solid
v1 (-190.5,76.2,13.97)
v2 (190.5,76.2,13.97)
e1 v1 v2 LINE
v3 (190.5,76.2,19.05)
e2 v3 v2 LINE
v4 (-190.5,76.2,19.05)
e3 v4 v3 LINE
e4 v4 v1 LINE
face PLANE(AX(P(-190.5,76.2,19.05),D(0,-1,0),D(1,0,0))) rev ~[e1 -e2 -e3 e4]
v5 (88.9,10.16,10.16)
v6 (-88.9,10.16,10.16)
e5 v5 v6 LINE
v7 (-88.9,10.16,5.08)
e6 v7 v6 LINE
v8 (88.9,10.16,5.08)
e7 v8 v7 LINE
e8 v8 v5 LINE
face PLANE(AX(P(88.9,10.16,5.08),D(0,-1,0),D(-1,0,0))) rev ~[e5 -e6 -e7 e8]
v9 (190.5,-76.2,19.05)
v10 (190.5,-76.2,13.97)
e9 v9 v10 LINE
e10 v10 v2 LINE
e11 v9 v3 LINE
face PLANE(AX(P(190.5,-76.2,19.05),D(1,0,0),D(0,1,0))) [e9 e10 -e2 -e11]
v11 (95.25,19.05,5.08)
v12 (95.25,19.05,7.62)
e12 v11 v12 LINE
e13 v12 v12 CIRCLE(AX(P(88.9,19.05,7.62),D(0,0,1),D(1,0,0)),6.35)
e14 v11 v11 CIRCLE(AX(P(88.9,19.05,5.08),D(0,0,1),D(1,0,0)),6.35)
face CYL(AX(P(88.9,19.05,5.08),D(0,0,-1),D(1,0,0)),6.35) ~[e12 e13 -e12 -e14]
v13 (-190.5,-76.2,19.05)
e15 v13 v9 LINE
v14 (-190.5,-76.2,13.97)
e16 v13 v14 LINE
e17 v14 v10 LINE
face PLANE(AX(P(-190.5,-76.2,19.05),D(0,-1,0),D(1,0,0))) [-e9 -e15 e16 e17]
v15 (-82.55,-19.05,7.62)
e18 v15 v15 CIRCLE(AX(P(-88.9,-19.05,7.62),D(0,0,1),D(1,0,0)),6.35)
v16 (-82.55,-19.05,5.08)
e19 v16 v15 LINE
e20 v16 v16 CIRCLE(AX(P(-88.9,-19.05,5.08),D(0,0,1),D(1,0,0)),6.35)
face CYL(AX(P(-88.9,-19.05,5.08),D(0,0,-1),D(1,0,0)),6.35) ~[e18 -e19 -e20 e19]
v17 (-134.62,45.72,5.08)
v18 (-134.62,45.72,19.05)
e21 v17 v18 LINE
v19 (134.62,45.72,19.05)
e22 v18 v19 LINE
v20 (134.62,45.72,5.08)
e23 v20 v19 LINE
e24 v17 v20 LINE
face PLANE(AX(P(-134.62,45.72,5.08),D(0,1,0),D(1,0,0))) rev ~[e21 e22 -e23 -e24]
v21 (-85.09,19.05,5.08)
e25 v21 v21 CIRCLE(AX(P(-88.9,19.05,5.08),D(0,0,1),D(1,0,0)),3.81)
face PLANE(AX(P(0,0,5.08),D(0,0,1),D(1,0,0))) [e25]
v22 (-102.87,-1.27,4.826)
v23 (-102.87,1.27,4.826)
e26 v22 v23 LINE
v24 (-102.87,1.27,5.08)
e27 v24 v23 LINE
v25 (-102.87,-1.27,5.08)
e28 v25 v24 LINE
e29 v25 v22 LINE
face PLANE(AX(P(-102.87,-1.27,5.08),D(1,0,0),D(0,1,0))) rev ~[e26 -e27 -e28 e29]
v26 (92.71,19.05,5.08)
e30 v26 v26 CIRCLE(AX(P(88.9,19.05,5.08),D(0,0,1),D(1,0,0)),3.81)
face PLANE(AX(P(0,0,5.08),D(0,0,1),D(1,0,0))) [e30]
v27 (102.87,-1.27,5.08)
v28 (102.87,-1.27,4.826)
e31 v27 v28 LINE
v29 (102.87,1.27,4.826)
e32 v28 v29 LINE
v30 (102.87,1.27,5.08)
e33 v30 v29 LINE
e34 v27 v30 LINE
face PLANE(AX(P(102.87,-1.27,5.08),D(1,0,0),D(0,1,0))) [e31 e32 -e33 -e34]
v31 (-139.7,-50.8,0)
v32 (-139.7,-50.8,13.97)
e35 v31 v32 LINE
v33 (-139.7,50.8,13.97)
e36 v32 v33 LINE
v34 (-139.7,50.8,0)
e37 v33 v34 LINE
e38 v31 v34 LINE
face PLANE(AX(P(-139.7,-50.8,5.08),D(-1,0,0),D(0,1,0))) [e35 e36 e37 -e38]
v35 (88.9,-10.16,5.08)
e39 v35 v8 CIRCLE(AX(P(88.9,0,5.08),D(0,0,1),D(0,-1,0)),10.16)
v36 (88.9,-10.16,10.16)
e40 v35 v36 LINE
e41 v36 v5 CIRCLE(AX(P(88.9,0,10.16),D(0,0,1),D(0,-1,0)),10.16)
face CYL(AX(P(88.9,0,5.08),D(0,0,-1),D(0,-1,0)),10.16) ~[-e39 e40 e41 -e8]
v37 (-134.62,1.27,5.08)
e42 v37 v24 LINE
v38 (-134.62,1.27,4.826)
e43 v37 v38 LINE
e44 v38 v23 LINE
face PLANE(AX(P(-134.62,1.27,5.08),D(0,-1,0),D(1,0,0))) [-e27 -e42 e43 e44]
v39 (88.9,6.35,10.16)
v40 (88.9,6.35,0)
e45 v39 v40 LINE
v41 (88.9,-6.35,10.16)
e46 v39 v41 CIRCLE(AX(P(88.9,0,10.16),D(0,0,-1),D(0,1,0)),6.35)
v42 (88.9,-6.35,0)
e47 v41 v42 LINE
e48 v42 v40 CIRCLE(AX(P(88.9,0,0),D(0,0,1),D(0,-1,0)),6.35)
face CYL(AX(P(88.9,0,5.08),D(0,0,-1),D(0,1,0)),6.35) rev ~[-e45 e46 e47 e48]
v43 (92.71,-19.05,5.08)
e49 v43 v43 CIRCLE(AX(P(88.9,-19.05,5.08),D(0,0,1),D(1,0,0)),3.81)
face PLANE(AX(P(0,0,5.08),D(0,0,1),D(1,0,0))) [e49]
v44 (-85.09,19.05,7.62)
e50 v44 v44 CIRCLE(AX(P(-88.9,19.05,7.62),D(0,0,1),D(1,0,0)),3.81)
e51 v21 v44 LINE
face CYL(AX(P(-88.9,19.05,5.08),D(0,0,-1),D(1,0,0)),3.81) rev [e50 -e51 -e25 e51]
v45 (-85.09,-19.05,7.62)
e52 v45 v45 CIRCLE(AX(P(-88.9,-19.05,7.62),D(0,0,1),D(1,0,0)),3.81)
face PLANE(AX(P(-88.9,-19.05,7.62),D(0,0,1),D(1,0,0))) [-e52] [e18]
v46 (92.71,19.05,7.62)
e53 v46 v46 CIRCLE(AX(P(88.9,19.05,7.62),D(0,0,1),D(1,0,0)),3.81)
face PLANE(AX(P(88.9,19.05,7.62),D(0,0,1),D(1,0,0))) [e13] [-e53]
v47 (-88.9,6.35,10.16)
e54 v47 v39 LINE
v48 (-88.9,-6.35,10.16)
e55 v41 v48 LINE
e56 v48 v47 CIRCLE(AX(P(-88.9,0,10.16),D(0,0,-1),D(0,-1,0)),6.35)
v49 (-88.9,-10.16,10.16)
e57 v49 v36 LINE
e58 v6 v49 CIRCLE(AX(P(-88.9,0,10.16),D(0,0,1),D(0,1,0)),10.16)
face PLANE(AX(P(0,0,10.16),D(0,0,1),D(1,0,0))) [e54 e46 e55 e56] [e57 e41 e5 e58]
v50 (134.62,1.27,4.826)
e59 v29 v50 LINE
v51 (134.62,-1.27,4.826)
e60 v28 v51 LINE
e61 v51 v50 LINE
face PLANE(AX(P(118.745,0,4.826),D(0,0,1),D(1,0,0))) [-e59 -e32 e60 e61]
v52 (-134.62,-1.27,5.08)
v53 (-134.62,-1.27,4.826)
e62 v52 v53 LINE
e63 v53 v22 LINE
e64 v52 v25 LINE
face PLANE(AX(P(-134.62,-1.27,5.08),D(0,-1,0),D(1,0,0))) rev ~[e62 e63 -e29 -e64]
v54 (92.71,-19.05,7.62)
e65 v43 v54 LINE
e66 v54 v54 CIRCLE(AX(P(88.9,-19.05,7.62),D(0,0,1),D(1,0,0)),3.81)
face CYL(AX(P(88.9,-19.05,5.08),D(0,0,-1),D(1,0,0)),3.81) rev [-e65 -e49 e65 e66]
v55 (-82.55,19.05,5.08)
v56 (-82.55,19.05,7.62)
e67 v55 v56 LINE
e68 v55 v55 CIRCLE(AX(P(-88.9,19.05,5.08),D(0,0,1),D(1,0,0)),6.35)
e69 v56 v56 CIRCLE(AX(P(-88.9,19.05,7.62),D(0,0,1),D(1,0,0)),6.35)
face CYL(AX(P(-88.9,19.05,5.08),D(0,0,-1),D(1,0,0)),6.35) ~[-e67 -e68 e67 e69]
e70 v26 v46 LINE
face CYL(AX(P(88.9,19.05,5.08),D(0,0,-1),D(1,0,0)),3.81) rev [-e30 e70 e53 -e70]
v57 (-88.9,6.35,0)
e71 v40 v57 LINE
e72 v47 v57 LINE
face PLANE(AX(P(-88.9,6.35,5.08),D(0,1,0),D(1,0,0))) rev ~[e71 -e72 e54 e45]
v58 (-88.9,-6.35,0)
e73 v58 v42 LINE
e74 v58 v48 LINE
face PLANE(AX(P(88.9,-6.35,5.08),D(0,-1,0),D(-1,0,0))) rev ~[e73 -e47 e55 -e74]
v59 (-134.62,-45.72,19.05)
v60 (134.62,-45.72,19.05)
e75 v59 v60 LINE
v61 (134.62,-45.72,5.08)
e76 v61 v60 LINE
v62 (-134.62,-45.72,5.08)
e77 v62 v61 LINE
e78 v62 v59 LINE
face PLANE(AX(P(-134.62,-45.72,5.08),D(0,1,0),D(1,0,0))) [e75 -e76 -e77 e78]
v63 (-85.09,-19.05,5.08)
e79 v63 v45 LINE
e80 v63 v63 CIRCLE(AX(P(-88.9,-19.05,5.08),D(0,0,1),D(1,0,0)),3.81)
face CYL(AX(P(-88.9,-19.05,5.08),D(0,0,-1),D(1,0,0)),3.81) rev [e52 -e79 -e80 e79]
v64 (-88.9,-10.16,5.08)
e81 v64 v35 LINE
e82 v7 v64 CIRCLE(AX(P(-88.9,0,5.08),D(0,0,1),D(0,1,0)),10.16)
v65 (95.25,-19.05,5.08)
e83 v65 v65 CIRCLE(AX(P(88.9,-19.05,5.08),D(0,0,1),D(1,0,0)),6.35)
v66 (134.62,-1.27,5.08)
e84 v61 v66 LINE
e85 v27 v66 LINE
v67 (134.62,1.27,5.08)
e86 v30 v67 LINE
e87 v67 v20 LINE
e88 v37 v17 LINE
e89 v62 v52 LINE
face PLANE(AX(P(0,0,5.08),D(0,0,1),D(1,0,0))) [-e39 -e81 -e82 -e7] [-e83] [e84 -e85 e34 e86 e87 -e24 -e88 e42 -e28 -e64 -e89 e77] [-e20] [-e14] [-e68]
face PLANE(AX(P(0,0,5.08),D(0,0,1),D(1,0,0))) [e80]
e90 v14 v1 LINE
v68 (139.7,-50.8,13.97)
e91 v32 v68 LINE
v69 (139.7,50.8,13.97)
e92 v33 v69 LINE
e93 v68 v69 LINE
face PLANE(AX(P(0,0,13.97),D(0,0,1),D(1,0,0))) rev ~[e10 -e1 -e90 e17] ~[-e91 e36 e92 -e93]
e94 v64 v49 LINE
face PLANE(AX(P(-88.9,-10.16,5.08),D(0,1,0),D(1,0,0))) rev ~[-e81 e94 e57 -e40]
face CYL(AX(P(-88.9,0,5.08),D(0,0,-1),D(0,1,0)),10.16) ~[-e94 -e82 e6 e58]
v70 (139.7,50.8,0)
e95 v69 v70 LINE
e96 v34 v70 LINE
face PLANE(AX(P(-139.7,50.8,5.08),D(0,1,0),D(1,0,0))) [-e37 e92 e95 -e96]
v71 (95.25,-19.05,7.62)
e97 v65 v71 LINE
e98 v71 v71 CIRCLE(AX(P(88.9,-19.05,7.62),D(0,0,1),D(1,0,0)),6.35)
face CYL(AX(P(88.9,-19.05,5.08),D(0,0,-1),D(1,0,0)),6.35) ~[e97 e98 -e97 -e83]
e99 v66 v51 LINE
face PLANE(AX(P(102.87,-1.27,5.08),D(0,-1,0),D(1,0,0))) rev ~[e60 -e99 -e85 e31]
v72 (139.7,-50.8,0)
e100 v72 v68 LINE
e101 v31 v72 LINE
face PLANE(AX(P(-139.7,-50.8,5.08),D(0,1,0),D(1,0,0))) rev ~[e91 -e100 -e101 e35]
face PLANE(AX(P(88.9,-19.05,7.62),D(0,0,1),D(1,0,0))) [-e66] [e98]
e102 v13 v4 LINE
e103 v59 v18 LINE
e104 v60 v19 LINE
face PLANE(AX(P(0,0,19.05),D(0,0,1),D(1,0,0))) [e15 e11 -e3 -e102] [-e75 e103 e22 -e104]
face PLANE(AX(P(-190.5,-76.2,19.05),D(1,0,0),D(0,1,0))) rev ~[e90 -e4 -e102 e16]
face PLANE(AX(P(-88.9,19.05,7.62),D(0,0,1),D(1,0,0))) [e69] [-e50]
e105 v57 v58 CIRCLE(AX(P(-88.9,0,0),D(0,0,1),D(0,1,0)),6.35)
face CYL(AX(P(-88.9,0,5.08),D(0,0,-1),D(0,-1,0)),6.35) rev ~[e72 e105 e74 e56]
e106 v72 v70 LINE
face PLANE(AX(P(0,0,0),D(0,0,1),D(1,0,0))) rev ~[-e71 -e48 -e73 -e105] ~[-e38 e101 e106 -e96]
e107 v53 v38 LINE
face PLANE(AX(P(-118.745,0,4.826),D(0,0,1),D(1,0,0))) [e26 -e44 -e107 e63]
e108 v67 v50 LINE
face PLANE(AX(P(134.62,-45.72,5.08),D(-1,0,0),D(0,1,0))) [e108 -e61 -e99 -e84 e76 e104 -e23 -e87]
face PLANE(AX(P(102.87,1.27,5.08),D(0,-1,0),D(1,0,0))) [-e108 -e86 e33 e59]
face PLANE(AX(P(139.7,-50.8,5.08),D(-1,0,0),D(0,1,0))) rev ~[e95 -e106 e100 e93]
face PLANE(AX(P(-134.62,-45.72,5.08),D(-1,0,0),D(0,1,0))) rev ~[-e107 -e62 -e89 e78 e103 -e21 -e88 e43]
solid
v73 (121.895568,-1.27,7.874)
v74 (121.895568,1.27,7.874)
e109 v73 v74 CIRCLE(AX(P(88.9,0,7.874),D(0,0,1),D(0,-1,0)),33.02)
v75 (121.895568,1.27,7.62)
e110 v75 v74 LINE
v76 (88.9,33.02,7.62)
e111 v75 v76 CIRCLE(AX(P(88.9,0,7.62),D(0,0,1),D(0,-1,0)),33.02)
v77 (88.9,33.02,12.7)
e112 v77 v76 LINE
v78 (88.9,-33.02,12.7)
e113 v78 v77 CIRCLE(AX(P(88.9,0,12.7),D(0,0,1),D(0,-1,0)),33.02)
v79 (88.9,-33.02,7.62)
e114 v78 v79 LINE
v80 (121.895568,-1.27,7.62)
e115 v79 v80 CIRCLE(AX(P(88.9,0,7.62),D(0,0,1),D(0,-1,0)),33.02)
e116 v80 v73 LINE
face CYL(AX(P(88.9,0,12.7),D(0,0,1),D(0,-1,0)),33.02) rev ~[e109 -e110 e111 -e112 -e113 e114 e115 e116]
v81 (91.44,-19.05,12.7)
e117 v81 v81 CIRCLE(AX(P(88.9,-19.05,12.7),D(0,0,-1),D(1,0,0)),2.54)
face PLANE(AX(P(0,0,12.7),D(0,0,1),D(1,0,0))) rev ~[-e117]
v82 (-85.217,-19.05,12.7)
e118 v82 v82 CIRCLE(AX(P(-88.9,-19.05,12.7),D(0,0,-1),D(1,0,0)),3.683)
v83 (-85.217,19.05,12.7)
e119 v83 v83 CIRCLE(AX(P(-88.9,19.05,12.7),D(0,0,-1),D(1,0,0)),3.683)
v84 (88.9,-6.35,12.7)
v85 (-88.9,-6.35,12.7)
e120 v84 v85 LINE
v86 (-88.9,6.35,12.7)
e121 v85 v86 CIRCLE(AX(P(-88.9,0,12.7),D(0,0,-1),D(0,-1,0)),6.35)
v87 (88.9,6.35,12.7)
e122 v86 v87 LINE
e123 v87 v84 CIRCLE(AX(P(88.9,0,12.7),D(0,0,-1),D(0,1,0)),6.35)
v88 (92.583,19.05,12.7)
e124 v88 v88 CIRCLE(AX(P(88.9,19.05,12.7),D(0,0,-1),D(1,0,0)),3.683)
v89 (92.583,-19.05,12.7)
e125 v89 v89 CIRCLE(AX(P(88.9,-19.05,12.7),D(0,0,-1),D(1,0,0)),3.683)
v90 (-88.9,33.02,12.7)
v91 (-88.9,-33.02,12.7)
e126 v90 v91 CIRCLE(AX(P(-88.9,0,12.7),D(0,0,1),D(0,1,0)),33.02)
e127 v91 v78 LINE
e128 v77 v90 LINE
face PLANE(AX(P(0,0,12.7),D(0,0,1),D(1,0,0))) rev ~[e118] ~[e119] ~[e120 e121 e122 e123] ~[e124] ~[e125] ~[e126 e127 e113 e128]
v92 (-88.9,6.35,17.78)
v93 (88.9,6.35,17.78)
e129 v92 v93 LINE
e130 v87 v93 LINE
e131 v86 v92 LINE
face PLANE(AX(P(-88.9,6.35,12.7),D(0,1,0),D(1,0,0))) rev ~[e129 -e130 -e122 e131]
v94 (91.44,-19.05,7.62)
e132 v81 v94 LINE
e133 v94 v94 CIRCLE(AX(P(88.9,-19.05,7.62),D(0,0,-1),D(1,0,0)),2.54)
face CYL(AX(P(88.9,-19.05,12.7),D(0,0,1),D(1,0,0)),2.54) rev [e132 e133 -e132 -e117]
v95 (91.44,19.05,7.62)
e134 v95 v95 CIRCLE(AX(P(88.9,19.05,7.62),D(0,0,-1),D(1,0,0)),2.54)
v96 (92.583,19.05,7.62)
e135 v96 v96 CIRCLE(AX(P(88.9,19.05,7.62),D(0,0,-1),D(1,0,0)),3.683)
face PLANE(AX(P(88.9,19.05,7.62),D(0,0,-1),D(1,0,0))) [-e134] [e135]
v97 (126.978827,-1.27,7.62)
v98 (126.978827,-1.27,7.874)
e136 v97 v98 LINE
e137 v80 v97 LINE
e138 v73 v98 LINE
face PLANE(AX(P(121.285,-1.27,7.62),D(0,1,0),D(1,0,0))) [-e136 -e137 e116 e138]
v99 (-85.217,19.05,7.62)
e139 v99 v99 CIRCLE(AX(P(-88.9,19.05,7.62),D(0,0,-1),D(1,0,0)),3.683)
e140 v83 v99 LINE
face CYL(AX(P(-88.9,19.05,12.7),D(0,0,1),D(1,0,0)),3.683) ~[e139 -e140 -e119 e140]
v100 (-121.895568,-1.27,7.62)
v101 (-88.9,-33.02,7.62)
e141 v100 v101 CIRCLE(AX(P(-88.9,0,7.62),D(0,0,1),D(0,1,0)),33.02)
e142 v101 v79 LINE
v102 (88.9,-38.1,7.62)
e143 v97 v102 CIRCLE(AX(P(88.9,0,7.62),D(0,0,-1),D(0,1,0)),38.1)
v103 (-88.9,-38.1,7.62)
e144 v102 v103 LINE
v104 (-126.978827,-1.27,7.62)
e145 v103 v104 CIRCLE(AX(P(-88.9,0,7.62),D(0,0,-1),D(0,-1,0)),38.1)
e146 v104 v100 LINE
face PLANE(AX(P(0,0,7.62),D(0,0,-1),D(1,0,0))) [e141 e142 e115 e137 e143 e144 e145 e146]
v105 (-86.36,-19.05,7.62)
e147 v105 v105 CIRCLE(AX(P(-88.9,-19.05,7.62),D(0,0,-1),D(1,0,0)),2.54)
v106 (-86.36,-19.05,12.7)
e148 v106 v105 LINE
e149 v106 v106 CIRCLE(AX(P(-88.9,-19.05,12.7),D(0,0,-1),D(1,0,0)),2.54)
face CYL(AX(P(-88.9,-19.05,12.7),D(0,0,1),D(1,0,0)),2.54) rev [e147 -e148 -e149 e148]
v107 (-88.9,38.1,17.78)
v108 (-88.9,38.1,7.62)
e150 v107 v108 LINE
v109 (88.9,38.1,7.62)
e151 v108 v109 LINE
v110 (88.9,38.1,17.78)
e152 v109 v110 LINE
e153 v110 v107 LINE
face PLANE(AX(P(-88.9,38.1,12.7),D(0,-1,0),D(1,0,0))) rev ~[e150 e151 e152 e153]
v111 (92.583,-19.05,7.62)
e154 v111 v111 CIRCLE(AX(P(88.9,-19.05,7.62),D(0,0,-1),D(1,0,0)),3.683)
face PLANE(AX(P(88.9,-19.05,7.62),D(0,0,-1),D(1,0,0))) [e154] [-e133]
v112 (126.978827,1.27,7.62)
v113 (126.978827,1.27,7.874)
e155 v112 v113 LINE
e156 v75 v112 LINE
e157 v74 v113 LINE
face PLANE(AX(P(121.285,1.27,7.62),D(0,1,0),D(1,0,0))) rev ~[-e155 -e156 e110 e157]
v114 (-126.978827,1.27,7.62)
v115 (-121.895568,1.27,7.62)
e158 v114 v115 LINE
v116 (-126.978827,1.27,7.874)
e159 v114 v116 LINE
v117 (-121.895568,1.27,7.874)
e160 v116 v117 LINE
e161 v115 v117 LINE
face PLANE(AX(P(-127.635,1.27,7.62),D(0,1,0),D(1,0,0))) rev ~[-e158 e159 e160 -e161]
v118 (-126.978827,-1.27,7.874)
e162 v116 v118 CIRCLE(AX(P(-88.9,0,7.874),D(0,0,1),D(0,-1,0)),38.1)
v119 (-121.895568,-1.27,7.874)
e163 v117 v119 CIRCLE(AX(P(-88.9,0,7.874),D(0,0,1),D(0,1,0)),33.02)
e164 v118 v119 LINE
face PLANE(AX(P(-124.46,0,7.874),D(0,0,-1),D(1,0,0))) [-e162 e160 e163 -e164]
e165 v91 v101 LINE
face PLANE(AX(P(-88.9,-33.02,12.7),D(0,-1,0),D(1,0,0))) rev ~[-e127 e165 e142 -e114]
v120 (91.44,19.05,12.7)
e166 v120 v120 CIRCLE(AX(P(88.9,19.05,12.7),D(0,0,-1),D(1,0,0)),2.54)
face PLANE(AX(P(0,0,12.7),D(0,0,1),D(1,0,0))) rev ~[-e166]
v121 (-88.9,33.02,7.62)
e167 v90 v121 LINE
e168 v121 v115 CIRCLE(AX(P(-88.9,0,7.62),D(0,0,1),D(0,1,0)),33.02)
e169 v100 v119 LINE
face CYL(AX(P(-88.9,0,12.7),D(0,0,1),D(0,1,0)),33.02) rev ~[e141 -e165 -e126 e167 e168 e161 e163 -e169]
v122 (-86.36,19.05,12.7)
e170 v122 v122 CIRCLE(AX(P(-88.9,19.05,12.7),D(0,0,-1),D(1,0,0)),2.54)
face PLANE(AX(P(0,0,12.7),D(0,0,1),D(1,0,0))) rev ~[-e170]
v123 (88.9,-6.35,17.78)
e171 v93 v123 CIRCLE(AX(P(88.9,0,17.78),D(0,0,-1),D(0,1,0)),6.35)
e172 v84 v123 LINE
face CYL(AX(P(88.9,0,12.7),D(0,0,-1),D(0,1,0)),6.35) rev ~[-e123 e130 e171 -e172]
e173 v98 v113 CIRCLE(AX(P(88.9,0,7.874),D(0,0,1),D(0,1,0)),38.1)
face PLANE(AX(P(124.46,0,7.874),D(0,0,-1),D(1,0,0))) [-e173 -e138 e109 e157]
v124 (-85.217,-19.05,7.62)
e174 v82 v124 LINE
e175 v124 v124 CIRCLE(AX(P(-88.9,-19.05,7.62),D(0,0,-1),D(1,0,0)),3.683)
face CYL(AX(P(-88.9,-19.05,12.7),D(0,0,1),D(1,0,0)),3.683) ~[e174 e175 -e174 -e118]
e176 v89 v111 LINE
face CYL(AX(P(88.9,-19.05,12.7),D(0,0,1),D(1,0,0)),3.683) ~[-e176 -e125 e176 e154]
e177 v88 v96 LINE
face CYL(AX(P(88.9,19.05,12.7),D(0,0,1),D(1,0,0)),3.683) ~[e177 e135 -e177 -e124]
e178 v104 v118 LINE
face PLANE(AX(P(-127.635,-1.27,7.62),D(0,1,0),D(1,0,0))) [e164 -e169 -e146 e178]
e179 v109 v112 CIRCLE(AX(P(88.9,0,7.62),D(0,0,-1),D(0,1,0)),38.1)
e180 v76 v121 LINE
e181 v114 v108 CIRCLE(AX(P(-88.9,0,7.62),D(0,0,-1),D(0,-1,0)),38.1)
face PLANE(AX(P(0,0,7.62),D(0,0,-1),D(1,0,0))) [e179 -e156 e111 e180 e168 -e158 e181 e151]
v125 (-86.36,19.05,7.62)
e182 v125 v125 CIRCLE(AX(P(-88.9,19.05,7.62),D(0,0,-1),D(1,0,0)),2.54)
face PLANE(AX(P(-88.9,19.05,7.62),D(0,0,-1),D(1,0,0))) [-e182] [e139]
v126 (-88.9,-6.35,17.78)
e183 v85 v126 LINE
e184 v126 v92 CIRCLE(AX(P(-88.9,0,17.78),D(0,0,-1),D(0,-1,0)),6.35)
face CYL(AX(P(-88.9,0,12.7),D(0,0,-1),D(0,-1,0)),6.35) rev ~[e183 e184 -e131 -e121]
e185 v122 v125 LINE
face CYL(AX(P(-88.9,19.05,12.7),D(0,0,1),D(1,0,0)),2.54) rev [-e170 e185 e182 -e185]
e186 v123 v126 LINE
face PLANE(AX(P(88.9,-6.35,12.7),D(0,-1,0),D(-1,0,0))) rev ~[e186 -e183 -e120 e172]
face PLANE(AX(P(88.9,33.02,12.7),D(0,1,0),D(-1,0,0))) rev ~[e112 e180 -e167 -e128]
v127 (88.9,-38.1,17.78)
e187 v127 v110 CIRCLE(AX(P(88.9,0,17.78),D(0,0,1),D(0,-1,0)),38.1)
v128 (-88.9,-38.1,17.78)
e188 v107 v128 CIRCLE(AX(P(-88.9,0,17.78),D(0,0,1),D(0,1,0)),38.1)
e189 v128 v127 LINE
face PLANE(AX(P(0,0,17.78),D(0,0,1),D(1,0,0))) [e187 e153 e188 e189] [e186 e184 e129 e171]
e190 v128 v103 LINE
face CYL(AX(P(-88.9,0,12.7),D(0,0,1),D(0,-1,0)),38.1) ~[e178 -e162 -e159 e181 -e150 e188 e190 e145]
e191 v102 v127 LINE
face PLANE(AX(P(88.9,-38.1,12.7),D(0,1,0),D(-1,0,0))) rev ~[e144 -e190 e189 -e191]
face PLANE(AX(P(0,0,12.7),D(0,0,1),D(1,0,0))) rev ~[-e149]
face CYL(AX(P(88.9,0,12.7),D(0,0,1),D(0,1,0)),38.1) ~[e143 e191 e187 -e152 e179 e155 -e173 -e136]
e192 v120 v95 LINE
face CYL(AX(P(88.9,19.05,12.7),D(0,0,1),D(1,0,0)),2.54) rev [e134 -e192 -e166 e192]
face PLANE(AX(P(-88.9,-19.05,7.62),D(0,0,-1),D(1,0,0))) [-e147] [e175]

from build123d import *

# Parameters (mm, degrees)
F0_W      = 279.4
F0_H      = 101.6
F1_DEPTH  = 5.08
F3_DEPTH  = 5.081
F5_DEPTH  = 5.08
F8_DEPTH  = 5.08
F10_DEPTH = 5.08
F11_R     = 6.35
F11_R_2   = 3.81
F12_DEPTH = 2.54
F13_R     = 3.683
F13_R_2   = 2.54
F14_DEPTH = 5.08
F15_W     = 279.4
F15_H     = 101.6
F15_W_2   = 269.24
F15_H_2   = 91.44
F16_DEPTH = 13.97
F17_W     = 31.75
F17_H     = 2.54
F18_DEPTH = 0.254
F19_W     = 6.35
F19_H     = 2.54
F20_DEPTH = 0.254
F21_W     = 381
F21_H     = 152.4
F21_W_2   = 279.4
F21_H_2   = 101.6
F22_DEPTH = 5.08


with BuildPart() as f1:
    # F0 (on Top) → F1 (new body)
    with BuildSketch(Plane.XY):
        Rectangle(F0_W, F0_H)
    extrude(amount=F1_DEPTH)

    # F2 (on face) → F3 (cut, through all)
    with BuildSketch(Plane.XY.offset(5.08)):
        with BuildLine():
            ThreePointArc((-88.9, 6.35), (-95.25, 0), (-88.9, -6.35))
            Line((-88.9, -6.35), (88.9, -6.35))
            ThreePointArc((88.9, -6.35), (95.25, 0), (88.9, 6.35))
            Line((88.9, 6.35), (-88.9, 6.35))
        make_face()
    extrude(amount=-F3_DEPTH, mode=Mode.SUBTRACT)

    # F4 (on face) → F5 (join)
    with BuildSketch(Plane.XY.offset(5.08)):
        with BuildLine():
            Line((88.9, 10.16), (-88.9, 10.16))
            ThreePointArc((-88.9, 10.16), (-99.06, 0), (-88.9, -10.16))
            Line((-88.9, -10.16), (88.9, -10.16))
            ThreePointArc((88.9, -10.16), (99.06, 0), (88.9, 10.16))
        make_face()
        with BuildLine():
            ThreePointArc((-88.9, -6.35), (-95.25, 0), (-88.9, 6.35))
            Line((-88.9, 6.35), (88.9, 6.35))
            ThreePointArc((88.9, 6.35), (95.25, 0), (88.9, -6.35))
            Line((88.9, -6.35), (-88.9, -6.35))
        make_face(mode=Mode.SUBTRACT)
    extrude(amount=F5_DEPTH)

    # F11 (on face) → F12 (join)
    with BuildSketch(Plane.XY.offset(5.08)):
        with Locations((-88.9, -19.05)):
            Circle(F11_R)
        with Locations((-88.9, -19.05)):
            Circle(F11_R_2, mode=Mode.SUBTRACT)
        with Locations((-88.9, 19.05)):
            Circle(F11_R)
        with Locations((-88.9, 19.05)):
            Circle(F11_R_2, mode=Mode.SUBTRACT)
        with Locations((88.9, -19.05)):
            Circle(F11_R)
        with Locations((88.9, -19.05)):
            Circle(F11_R_2, mode=Mode.SUBTRACT)
        with Locations((88.9, 19.05)):
            Circle(F11_R)
        with Locations((88.9, 19.05)):
            Circle(F11_R_2, mode=Mode.SUBTRACT)
    extrude(amount=F12_DEPTH)

    # F15 (on face) → F16 (join)
    with BuildSketch(Plane.XY.offset(5.08)):
        Rectangle(F15_W, F15_H)
        Rectangle(F15_W_2, F15_H_2, mode=Mode.SUBTRACT)
    extrude(amount=F16_DEPTH)

    # F17 (on face) → F18 (cut)
    with BuildSketch(Plane.XY.offset(5.08)):
        with Locations((-118.745, 0)):
            Rectangle(F17_W, F17_H)
        with Locations((118.745, 0)):
            Rectangle(F17_W, F17_H)
    extrude(amount=-F18_DEPTH, mode=Mode.SUBTRACT)

    # F21 (on face) → F22 (join)
    with BuildSketch(Plane.XY.offset(19.05)):
        Rectangle(F21_W, F21_H)
        Rectangle(F21_W_2, F21_H_2, mode=Mode.SUBTRACT)
    extrude(amount=-F22_DEPTH)


with BuildPart() as f8:
    # F7 (on offset) → F8 (new body)
    with BuildSketch(Plane.XY.offset(12.7)):
        with BuildLine():
            Line((88.9, 38.1), (-88.9, 38.1))
            ThreePointArc((-88.9, 38.1), (-127, 0), (-88.9, -38.1))
            Line((-88.9, -38.1), (88.9, -38.1))
            ThreePointArc((88.9, -38.1), (127, 0), (88.9, 38.1))
        make_face()
        with BuildLine():
            ThreePointArc((-88.9, -6.35), (-95.25, 0), (-88.9, 6.35))
            Line((-88.9, 6.35), (88.9, 6.35))
            ThreePointArc((88.9, 6.35), (95.25, 0), (88.9, -6.35))
            Line((88.9, -6.35), (-88.9, -6.35))
        make_face(mode=Mode.SUBTRACT)
    extrude(amount=F8_DEPTH)

    # F9 (on face) → F10 (join)
    with BuildSketch(Plane(origin=(0, 0, 12.7), x_dir=(1, 0, 0), z_dir=(0, 0, -1))):
        with BuildLine():
            Line((88.9, 38.1), (-88.9, 38.1))
            ThreePointArc((-88.9, 38.1), (-127, 0), (-88.9, -38.1))
            Line((-88.9, -38.1), (88.9, -38.1))
            ThreePointArc((88.9, -38.1), (127, 0), (88.9, 38.1))
        make_face()
        with BuildLine():
            ThreePointArc((-88.9, -33.02), (-121.92, 0), (-88.9, 33.02))
            Line((-88.9, 33.02), (88.9, 33.02))
            ThreePointArc((88.9, 33.02), (121.92, 0), (88.9, -33.02))
            Line((88.9, -33.02), (-88.9, -33.02))
        make_face(mode=Mode.SUBTRACT)
    extrude(amount=F10_DEPTH)

    # F13 (on face) → F14 (join)
    with BuildSketch(Plane(origin=(0, 0, 12.7), x_dir=(1, 0, 0), z_dir=(0, 0, -1))):
        with Locations((-88.9, -19.05)):
            Circle(F13_R)
        with Locations((-88.9, -19.05)):
            Circle(F13_R_2, mode=Mode.SUBTRACT)
        with Locations((-88.9, 19.05)):
            Circle(F13_R)
        with Locations((-88.9, 19.05)):
            Circle(F13_R_2, mode=Mode.SUBTRACT)
        with Locations((88.9, -19.05)):
            Circle(F13_R)
        with Locations((88.9, -19.05)):
            Circle(F13_R_2, mode=Mode.SUBTRACT)
        with Locations((88.9, 19.05)):
            Circle(F13_R)
        with Locations((88.9, 19.05)):
            Circle(F13_R_2, mode=Mode.SUBTRACT)
    extrude(amount=F14_DEPTH)

    # F19 (on face) → F20 (cut)
    with BuildSketch(Plane(origin=(0, 0, 7.62), x_dir=(1, 0, 0), z_dir=(0, 0, -1))):
        with Locations((-124.46, 0)):
            Rectangle(F19_W, F19_H)
        with Locations((124.46, 0)):
            Rectangle(F19_W, F19_H)
    extrude(amount=-F20_DEPTH, mode=Mode.SUBTRACT)


solid = Compound([f1.part, f8.part])
